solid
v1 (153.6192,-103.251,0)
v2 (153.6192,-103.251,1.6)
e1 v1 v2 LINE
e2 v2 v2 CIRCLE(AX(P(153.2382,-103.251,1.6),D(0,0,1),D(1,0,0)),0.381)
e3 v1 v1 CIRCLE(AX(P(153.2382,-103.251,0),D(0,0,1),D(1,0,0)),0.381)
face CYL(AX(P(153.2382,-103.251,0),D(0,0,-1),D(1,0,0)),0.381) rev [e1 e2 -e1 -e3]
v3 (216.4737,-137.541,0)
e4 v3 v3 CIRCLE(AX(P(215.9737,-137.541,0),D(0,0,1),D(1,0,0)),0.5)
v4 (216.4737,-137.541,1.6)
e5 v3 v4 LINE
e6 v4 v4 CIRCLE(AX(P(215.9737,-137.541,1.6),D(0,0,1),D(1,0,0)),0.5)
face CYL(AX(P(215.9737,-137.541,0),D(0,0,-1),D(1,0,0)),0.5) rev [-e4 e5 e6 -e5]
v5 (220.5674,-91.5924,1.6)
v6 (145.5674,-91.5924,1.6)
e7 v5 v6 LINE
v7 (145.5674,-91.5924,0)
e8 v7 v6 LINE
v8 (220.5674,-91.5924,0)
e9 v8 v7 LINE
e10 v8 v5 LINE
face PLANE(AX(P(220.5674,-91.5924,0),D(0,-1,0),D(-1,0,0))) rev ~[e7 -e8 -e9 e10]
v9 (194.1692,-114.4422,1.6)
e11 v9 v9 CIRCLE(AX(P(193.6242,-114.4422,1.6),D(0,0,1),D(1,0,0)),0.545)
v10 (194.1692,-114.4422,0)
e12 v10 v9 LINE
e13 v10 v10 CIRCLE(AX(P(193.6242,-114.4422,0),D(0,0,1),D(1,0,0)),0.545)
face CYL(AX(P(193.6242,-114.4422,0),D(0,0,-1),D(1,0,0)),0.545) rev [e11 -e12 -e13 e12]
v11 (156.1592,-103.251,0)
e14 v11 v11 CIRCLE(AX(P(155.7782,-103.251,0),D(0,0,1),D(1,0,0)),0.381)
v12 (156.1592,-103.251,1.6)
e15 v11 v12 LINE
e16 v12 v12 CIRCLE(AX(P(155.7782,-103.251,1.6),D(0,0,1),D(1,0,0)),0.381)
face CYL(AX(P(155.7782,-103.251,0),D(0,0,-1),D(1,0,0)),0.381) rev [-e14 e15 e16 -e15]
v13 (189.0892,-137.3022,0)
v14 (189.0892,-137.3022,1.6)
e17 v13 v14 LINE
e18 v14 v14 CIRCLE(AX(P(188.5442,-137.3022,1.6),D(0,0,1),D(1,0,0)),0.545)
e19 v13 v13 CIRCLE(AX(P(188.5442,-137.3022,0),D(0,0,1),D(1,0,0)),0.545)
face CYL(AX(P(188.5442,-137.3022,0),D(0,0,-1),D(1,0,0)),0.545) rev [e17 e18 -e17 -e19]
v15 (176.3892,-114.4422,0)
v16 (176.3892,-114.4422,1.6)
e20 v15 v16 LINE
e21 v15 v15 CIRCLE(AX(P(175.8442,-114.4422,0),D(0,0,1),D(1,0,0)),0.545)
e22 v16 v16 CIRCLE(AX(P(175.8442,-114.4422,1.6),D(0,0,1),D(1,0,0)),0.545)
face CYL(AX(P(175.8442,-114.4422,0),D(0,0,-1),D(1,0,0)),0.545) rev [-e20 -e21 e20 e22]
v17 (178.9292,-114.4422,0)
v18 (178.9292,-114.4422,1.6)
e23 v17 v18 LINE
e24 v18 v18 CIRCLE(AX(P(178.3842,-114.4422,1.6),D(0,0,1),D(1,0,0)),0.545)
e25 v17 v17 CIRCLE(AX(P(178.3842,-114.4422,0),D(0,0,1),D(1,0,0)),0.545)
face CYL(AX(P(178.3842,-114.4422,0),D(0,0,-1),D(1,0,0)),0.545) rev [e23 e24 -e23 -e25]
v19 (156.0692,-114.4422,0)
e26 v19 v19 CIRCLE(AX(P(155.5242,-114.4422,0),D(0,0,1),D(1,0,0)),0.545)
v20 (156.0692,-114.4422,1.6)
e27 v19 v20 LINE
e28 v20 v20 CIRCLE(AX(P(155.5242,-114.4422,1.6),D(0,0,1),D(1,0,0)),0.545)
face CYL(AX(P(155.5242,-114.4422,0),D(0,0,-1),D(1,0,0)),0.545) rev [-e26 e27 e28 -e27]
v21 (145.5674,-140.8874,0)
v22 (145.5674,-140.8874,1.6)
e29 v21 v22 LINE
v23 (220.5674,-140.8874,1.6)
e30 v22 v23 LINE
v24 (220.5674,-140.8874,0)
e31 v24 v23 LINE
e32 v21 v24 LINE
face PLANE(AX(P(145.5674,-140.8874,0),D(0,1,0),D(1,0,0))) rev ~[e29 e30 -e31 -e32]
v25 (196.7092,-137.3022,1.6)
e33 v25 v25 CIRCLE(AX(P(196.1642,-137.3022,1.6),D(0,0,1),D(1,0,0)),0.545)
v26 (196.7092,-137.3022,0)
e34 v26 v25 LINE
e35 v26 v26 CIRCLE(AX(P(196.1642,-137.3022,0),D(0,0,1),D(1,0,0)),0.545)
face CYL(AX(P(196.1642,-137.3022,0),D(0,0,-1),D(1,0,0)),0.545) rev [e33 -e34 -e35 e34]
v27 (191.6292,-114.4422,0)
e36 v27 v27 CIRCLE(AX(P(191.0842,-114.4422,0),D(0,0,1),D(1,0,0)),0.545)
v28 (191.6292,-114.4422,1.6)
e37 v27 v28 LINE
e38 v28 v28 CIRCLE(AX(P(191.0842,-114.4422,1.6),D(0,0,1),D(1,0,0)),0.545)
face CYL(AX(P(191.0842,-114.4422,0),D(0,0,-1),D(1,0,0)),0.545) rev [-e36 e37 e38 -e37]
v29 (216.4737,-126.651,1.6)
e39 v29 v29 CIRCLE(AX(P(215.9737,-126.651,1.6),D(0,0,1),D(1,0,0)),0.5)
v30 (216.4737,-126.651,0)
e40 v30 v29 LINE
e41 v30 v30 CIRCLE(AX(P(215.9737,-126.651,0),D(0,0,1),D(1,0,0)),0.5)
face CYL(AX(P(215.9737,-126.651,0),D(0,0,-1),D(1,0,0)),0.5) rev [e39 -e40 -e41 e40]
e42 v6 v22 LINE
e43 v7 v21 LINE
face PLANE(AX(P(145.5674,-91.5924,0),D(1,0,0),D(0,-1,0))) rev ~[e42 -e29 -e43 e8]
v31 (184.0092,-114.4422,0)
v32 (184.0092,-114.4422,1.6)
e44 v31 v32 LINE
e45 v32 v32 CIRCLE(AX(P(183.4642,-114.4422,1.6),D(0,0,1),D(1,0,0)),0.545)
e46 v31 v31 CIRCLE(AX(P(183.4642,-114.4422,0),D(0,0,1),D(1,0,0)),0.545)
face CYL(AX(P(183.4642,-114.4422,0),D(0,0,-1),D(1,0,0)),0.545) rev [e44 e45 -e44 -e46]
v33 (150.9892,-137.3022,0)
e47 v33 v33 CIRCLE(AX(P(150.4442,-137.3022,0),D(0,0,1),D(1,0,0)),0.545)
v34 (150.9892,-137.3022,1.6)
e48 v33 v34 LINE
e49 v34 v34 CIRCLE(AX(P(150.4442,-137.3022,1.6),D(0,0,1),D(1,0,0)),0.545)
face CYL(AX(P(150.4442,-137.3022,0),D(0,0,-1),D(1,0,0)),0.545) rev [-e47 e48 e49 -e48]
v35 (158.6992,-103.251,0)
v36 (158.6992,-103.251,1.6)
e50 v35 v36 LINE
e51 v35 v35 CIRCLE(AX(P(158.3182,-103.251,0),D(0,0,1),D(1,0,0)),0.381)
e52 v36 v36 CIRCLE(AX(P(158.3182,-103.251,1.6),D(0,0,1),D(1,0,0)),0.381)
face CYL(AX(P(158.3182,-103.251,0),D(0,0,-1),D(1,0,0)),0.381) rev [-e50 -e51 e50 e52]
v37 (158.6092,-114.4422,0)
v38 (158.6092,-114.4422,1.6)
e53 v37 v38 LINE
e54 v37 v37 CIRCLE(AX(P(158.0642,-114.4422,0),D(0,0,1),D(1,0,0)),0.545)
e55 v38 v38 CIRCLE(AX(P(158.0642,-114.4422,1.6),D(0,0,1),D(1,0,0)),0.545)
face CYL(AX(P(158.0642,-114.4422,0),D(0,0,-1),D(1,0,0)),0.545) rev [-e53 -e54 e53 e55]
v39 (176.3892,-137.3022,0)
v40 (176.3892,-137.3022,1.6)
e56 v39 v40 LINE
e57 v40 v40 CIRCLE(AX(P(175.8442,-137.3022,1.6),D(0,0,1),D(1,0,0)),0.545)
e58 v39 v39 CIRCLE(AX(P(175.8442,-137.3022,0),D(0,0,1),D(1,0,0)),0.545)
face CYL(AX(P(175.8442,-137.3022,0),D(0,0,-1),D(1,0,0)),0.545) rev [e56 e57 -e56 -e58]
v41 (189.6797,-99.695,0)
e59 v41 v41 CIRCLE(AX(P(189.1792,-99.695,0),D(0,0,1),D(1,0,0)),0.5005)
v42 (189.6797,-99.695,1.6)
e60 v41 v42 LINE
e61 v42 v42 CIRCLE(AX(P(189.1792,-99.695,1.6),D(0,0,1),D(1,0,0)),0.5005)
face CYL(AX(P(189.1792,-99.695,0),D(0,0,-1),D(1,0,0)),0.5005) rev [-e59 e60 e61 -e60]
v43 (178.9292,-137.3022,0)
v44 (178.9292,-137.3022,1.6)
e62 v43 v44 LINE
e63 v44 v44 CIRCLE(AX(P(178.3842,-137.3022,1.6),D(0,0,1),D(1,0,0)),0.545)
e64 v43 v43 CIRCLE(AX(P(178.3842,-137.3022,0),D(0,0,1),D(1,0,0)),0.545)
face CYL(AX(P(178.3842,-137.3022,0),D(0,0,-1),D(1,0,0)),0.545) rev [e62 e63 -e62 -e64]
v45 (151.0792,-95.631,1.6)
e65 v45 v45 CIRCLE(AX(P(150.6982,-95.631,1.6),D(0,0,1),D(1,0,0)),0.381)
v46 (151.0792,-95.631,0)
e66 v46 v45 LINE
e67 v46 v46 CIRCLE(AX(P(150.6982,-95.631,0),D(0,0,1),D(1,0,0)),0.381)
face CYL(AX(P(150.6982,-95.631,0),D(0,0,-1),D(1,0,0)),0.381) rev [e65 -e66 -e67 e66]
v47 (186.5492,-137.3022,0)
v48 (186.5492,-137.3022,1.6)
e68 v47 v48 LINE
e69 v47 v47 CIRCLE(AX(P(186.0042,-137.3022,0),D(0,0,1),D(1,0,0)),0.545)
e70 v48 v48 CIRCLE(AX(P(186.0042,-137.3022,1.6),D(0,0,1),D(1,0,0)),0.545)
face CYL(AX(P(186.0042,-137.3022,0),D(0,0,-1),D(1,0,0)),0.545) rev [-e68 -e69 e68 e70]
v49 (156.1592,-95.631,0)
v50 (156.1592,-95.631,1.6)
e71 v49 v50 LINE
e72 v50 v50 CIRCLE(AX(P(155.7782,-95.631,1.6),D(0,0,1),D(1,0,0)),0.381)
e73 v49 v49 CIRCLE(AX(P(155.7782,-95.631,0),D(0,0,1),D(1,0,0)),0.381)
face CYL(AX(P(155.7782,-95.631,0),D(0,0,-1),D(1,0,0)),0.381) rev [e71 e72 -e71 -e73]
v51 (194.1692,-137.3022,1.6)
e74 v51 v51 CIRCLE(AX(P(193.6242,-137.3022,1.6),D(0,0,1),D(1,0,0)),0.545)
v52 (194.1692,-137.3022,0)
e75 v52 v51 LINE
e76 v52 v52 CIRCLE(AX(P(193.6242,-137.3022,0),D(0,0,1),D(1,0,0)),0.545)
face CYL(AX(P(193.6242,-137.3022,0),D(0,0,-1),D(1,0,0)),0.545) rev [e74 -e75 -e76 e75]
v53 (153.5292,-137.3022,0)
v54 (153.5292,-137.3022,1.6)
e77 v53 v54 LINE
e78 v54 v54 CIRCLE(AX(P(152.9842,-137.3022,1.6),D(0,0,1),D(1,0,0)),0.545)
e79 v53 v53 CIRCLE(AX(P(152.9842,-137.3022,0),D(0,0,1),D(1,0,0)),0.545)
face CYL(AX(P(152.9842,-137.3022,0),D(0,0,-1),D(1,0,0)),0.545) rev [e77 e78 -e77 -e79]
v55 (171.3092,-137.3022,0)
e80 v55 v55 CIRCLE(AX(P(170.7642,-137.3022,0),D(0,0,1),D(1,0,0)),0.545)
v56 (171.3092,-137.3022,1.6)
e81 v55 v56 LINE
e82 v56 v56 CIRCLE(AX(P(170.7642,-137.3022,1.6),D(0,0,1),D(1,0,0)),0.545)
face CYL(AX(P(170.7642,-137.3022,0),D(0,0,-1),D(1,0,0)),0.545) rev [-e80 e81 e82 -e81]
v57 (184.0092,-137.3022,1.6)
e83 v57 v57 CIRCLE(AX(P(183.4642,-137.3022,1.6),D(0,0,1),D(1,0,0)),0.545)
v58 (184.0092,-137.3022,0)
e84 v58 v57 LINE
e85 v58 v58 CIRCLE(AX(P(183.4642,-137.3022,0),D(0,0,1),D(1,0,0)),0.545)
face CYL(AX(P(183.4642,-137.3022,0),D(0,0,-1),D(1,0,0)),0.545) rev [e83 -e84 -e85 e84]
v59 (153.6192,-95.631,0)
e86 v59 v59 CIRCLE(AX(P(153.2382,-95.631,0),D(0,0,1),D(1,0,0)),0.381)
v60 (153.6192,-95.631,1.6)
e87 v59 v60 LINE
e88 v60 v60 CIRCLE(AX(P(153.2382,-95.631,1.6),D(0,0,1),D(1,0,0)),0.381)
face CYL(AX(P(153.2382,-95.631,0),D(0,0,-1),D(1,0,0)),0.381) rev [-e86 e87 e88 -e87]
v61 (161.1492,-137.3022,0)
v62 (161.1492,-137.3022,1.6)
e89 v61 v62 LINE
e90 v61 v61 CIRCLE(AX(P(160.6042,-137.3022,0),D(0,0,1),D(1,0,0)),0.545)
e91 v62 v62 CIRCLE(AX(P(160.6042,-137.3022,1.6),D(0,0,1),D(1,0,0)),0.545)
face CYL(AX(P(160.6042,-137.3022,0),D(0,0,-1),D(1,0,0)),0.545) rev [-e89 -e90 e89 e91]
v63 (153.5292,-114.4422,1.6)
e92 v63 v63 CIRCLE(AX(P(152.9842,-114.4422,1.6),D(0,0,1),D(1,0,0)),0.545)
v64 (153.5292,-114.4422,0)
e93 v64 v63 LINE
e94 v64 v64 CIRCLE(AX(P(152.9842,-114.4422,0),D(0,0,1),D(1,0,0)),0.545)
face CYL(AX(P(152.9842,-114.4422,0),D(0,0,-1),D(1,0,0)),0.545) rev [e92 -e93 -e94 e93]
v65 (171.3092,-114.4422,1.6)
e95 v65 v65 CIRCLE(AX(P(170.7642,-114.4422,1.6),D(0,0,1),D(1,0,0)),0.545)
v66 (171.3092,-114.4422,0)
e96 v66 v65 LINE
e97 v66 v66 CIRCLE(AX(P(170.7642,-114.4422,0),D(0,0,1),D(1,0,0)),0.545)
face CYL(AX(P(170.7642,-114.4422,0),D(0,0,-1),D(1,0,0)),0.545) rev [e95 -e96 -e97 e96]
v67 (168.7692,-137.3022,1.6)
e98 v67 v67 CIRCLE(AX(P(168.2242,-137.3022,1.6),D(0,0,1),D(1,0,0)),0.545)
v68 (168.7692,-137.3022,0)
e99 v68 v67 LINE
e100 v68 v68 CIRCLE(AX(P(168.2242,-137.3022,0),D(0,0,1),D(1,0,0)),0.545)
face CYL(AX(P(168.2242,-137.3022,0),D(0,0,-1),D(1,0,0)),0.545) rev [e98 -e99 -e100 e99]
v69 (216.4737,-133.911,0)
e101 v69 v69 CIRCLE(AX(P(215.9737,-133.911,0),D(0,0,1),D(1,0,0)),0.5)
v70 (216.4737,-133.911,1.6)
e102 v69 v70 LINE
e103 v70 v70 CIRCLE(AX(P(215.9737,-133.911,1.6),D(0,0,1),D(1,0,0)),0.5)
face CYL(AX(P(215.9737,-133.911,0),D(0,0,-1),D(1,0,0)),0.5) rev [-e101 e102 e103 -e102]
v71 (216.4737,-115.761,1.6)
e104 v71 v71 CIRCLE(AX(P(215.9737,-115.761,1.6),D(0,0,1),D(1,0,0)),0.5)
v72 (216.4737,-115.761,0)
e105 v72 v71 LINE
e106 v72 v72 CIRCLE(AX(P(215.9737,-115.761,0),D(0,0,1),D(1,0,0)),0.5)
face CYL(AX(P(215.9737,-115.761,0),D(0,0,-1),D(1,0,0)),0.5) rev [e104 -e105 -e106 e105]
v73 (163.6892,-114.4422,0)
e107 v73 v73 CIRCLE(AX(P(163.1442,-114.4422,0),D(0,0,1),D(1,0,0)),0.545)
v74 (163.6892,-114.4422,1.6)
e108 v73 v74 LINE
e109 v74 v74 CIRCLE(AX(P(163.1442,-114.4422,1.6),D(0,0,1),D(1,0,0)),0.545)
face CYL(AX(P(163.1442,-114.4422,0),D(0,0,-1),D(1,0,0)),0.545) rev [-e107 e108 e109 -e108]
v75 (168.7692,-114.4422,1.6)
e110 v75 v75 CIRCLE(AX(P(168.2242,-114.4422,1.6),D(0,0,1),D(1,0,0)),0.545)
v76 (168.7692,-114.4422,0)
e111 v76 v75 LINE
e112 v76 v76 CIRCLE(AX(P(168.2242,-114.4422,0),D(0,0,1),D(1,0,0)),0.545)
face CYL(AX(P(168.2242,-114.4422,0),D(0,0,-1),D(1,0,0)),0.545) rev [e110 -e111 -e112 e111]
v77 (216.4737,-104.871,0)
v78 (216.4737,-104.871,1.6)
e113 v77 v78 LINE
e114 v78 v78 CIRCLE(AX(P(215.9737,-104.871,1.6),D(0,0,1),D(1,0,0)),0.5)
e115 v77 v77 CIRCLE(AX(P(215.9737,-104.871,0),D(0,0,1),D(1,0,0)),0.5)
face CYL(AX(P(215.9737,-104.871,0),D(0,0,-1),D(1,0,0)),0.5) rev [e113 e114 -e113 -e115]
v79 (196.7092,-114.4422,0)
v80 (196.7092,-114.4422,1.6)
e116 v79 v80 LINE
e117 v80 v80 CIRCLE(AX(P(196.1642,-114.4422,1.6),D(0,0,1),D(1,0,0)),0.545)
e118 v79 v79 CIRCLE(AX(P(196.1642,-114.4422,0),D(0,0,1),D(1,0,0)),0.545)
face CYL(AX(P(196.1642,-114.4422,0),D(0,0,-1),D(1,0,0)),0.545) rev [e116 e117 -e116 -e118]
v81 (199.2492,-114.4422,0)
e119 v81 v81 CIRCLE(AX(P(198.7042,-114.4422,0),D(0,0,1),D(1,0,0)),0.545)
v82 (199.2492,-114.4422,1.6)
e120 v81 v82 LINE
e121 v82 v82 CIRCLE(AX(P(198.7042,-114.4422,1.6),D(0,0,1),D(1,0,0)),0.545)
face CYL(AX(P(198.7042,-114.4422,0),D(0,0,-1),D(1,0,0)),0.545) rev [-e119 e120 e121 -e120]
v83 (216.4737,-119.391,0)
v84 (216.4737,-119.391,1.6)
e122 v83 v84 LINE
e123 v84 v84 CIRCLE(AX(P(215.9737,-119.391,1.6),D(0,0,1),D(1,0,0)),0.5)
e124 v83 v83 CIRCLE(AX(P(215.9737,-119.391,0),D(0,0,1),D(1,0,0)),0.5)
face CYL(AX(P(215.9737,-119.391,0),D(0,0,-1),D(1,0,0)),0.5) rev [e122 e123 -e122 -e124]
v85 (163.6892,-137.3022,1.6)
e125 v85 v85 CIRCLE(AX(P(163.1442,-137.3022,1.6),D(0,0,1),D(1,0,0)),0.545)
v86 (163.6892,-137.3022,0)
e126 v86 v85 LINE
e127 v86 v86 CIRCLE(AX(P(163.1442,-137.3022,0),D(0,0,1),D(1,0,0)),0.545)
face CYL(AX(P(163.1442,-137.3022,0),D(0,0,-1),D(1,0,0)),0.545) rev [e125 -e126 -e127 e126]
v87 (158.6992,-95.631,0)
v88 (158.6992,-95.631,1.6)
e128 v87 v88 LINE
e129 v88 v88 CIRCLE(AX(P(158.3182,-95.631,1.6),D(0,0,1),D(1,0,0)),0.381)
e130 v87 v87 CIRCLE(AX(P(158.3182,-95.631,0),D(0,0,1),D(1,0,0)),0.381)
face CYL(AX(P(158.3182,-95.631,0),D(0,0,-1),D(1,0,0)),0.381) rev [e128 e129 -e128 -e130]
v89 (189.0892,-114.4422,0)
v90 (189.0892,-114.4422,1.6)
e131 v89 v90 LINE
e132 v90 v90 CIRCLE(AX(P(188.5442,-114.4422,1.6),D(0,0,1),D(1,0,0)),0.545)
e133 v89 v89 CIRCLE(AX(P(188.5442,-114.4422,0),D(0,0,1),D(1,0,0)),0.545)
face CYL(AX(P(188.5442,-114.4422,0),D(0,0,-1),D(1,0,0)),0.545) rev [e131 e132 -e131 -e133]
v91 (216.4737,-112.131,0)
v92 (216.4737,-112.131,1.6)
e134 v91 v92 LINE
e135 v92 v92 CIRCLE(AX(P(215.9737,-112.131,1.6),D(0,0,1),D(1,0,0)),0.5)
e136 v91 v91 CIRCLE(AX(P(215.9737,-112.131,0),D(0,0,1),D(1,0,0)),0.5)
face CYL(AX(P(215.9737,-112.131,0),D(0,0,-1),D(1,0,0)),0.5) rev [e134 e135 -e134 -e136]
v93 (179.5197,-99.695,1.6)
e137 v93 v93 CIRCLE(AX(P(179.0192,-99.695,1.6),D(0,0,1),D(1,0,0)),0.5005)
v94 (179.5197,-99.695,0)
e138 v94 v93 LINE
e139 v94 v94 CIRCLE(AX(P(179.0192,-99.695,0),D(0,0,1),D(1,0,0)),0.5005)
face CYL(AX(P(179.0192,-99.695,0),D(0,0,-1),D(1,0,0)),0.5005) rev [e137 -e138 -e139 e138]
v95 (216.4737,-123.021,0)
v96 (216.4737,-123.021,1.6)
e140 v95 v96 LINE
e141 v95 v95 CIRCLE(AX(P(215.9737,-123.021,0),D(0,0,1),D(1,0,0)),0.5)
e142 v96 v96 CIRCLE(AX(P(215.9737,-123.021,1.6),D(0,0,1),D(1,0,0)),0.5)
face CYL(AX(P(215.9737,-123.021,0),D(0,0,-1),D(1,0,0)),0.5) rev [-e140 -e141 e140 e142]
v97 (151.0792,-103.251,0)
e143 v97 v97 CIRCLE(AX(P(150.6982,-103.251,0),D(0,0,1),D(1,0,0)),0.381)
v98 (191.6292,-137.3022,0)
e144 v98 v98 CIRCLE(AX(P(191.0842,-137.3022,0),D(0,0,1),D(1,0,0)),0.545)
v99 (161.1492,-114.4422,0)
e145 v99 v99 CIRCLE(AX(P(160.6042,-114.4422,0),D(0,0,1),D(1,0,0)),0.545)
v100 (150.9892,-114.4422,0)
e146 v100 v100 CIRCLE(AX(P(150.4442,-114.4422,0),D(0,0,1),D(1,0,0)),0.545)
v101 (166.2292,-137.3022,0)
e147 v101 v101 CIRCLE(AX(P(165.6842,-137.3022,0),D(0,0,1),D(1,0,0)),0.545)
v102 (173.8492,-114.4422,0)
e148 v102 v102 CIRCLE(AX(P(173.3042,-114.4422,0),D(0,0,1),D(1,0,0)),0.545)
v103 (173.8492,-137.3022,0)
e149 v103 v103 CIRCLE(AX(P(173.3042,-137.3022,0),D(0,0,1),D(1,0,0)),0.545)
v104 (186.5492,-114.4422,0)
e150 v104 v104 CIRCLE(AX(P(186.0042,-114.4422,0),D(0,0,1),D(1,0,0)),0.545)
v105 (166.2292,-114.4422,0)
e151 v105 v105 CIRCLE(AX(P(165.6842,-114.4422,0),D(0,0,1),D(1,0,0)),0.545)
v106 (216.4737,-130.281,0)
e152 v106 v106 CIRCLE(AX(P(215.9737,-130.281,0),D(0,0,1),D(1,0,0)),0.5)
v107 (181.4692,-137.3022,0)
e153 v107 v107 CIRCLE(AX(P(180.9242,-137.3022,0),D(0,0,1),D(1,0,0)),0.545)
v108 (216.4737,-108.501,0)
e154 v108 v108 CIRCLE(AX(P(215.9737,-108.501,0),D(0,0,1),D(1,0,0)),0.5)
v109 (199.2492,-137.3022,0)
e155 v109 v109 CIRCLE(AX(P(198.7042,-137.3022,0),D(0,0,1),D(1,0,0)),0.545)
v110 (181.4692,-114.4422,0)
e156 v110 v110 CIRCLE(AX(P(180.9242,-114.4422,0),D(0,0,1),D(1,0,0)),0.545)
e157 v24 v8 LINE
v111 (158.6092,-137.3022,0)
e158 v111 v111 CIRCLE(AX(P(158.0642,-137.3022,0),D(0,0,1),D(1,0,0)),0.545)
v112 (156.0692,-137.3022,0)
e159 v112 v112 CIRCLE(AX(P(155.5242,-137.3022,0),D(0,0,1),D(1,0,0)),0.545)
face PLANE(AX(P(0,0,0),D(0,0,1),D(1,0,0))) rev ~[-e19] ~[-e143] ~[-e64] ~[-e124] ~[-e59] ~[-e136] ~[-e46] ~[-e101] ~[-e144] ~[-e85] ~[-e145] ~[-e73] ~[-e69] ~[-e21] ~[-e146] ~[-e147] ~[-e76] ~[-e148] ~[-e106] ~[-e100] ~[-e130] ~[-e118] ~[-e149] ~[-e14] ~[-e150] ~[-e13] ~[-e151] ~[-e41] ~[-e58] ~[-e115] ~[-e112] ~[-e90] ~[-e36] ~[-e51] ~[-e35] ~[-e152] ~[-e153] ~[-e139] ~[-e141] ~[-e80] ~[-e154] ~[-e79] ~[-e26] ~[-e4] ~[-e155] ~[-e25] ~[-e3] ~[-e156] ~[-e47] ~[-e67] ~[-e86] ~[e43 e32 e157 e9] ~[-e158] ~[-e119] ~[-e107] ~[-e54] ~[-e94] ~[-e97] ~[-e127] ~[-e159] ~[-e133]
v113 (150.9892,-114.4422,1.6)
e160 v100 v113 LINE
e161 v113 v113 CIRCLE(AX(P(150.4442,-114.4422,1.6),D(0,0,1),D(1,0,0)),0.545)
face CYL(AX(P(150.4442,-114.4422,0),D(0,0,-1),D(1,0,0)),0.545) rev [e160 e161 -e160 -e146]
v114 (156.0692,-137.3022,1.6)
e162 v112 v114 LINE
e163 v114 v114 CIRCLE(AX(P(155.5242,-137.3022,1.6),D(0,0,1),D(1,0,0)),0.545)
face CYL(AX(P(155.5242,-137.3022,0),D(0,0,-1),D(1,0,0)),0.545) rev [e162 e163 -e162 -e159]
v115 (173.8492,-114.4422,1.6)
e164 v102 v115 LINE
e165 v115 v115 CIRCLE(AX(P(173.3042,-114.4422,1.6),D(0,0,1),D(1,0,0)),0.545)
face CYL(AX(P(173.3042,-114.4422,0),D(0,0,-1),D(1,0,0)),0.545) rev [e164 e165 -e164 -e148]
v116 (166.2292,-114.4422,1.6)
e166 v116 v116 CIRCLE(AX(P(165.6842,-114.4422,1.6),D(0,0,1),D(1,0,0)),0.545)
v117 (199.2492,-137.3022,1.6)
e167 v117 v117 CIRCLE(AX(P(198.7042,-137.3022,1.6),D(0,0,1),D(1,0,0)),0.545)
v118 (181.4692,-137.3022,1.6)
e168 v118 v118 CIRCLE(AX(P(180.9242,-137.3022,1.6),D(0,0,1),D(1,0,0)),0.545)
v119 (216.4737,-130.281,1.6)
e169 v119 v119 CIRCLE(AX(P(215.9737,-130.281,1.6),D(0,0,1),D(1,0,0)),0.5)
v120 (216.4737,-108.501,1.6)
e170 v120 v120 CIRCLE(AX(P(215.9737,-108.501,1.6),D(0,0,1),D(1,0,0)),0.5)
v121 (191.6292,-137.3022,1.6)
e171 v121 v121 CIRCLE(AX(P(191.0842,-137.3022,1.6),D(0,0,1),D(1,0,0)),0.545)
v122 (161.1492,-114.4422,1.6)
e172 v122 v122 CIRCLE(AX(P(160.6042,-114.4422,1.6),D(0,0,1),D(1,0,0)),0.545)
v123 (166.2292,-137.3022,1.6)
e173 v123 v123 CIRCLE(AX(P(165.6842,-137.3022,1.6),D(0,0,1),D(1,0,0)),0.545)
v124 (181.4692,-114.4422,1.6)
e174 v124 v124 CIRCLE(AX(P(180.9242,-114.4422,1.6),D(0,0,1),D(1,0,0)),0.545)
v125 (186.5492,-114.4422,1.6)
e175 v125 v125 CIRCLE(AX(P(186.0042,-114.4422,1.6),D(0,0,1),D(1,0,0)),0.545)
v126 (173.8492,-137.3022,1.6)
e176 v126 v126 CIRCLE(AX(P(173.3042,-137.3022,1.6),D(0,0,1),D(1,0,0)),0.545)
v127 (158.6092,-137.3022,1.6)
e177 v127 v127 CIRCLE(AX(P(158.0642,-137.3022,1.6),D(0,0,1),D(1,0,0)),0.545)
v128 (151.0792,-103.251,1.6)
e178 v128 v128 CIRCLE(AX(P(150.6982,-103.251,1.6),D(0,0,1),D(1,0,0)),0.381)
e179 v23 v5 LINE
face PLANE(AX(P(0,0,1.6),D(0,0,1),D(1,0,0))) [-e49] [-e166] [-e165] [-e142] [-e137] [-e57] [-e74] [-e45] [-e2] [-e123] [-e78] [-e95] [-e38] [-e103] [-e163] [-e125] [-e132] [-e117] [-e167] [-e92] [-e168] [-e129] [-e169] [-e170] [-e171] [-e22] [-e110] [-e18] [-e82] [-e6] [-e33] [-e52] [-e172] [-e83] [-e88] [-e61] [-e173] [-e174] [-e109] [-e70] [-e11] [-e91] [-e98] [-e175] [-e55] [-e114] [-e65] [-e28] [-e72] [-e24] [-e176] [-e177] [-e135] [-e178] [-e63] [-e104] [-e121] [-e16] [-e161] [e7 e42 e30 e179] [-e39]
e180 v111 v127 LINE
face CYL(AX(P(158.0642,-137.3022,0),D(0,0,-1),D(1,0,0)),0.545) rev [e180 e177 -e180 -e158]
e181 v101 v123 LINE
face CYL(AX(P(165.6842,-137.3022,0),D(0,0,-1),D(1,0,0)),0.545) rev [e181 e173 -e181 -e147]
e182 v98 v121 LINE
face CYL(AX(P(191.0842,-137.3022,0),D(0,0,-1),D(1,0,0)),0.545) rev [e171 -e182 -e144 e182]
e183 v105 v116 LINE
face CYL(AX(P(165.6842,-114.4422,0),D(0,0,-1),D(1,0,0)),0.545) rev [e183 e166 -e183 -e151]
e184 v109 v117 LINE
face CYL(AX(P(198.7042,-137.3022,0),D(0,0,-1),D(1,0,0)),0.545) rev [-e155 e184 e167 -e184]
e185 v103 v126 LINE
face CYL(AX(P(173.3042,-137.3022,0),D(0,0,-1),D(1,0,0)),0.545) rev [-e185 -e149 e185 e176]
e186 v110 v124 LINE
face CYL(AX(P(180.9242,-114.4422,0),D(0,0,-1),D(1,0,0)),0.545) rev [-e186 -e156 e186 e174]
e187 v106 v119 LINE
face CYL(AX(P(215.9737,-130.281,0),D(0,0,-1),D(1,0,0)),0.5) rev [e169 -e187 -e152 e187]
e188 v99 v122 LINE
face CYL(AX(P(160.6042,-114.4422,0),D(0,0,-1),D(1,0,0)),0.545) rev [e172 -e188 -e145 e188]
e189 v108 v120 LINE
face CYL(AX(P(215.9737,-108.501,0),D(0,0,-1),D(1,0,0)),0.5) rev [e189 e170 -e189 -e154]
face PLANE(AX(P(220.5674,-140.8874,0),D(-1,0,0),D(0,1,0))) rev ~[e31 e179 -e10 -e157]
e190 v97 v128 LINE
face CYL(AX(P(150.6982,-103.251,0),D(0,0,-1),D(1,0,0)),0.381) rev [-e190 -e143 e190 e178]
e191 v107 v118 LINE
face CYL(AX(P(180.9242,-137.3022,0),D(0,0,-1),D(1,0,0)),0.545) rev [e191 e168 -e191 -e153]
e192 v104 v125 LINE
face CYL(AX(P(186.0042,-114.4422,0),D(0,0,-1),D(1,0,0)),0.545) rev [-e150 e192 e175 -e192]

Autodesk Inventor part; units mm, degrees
ref_plane "YZ Plane" through (0, 0, 0) normal (1, 0, 0) x (0, 1, 0)
ref_plane "XZ Plane" through (0, 0, 0) normal (0, 1, 0) x (-1, 0, 0)
ref_plane "XY Plane" through (0, 0, 0) normal (0, 0, 1) x (1, 0, 0)
sketch "Sketch1" plane through (0, 0, 0) normal (0, 0, 1) x (1, 0, 0)
  line L0 (220.5674, -91.5924) -> (145.5674, -91.5924)
  line L1 (145.5674, -91.5924) -> (145.5674, -140.8874)
  line L2 (145.5674, -140.8874) -> (220.5674, -140.8874)
  line L3 (220.5674, -140.8874) -> (220.5674, -91.5924)
  circle A0 centre (150.4442, -137.3022) radius 0.545
  circle A1 centre (152.9842, -137.3022) radius 0.545
  circle A2 centre (155.5242, -137.3022) radius 0.545
  circle A3 centre (158.0642, -137.3022) radius 0.545
  circle A4 centre (160.6042, -137.3022) radius 0.545
  circle A5 centre (163.1442, -137.3022) radius 0.545
  circle A6 centre (165.6842, -137.3022) radius 0.545
  circle A7 centre (168.2242, -137.3022) radius 0.545
  circle A8 centre (170.7642, -137.3022) radius 0.545
  circle A9 centre (173.3042, -137.3022) radius 0.545
  circle A10 centre (175.8442, -137.3022) radius 0.545
  circle A11 centre (178.3842, -137.3022) radius 0.545
  circle A12 centre (180.9242, -137.3022) radius 0.545
  circle A13 centre (183.4642, -137.3022) radius 0.545
  circle A14 centre (186.0042, -137.3022) radius 0.545
  circle A15 centre (188.5442, -137.3022) radius 0.545
  circle A16 centre (191.0842, -137.3022) radius 0.545
  circle A17 centre (193.6242, -137.3022) radius 0.545
  circle A18 centre (196.1642, -137.3022) radius 0.545
  circle A19 centre (198.7042, -137.3022) radius 0.545
  circle A20 centre (198.7042, -114.4422) radius 0.545
  circle A21 centre (196.1642, -114.4422) radius 0.545
  circle A22 centre (193.6242, -114.4422) radius 0.545
  circle A23 centre (191.0842, -114.4422) radius 0.545
  circle A24 centre (188.5442, -114.4422) radius 0.545
  circle A25 centre (186.0042, -114.4422) radius 0.545
  circle A26 centre (183.4642, -114.4422) radius 0.545
  circle A27 centre (180.9242, -114.4422) radius 0.545
  circle A28 centre (178.3842, -114.4422) radius 0.545
  circle A29 centre (175.8442, -114.4422) radius 0.545
  circle A30 centre (173.3042, -114.4422) radius 0.545
  circle A31 centre (170.7642, -114.4422) radius 0.545
  circle A32 centre (168.2242, -114.4422) radius 0.545
  circle A33 centre (165.6842, -114.4422) radius 0.545
  circle A34 centre (163.1442, -114.4422) radius 0.545
  circle A35 centre (160.6042, -114.4422) radius 0.545
  circle A36 centre (158.0642, -114.4422) radius 0.545
  circle A37 centre (155.5242, -114.4422) radius 0.545
  circle A38 centre (152.9842, -114.4422) radius 0.545
  circle A39 centre (150.4442, -114.4422) radius 0.545
  circle A40 centre (150.6982, -103.251) radius 0.381
  circle A41 centre (153.2382, -103.251) radius 0.381
  circle A42 centre (155.7782, -103.251) radius 0.381
  circle A43 centre (158.3182, -103.251) radius 0.381
  circle A44 centre (150.6982, -95.631) radius 0.381
  circle A45 centre (153.2382, -95.631) radius 0.381
  circle A46 centre (155.7782, -95.631) radius 0.381
  circle A47 centre (158.3182, -95.631) radius 0.381
  circle A48 centre (215.9737, -137.541) radius 0.5
  circle A49 centre (215.9737, -133.911) radius 0.5
  circle A50 centre (215.9737, -130.281) radius 0.5
  circle A51 centre (215.9737, -126.651) radius 0.5
  circle A52 centre (215.9737, -123.021) radius 0.5
  circle A53 centre (215.9737, -119.391) radius 0.5
  circle A54 centre (215.9737, -115.761) radius 0.5
  circle A55 centre (215.9737, -112.131) radius 0.5
  circle A56 centre (215.9737, -108.501) radius 0.5
  circle A57 centre (215.9737, -104.871) radius 0.5
  circle A58 centre (189.1792, -99.695) radius 0.5005
  circle A59 centre (179.0192, -99.695) radius 0.5005
extrude "schematic.kicad_pcb_Outline" add sketch "Sketch1" along normal blind 1.6
properties part number "schematic.kicad_pcb"
